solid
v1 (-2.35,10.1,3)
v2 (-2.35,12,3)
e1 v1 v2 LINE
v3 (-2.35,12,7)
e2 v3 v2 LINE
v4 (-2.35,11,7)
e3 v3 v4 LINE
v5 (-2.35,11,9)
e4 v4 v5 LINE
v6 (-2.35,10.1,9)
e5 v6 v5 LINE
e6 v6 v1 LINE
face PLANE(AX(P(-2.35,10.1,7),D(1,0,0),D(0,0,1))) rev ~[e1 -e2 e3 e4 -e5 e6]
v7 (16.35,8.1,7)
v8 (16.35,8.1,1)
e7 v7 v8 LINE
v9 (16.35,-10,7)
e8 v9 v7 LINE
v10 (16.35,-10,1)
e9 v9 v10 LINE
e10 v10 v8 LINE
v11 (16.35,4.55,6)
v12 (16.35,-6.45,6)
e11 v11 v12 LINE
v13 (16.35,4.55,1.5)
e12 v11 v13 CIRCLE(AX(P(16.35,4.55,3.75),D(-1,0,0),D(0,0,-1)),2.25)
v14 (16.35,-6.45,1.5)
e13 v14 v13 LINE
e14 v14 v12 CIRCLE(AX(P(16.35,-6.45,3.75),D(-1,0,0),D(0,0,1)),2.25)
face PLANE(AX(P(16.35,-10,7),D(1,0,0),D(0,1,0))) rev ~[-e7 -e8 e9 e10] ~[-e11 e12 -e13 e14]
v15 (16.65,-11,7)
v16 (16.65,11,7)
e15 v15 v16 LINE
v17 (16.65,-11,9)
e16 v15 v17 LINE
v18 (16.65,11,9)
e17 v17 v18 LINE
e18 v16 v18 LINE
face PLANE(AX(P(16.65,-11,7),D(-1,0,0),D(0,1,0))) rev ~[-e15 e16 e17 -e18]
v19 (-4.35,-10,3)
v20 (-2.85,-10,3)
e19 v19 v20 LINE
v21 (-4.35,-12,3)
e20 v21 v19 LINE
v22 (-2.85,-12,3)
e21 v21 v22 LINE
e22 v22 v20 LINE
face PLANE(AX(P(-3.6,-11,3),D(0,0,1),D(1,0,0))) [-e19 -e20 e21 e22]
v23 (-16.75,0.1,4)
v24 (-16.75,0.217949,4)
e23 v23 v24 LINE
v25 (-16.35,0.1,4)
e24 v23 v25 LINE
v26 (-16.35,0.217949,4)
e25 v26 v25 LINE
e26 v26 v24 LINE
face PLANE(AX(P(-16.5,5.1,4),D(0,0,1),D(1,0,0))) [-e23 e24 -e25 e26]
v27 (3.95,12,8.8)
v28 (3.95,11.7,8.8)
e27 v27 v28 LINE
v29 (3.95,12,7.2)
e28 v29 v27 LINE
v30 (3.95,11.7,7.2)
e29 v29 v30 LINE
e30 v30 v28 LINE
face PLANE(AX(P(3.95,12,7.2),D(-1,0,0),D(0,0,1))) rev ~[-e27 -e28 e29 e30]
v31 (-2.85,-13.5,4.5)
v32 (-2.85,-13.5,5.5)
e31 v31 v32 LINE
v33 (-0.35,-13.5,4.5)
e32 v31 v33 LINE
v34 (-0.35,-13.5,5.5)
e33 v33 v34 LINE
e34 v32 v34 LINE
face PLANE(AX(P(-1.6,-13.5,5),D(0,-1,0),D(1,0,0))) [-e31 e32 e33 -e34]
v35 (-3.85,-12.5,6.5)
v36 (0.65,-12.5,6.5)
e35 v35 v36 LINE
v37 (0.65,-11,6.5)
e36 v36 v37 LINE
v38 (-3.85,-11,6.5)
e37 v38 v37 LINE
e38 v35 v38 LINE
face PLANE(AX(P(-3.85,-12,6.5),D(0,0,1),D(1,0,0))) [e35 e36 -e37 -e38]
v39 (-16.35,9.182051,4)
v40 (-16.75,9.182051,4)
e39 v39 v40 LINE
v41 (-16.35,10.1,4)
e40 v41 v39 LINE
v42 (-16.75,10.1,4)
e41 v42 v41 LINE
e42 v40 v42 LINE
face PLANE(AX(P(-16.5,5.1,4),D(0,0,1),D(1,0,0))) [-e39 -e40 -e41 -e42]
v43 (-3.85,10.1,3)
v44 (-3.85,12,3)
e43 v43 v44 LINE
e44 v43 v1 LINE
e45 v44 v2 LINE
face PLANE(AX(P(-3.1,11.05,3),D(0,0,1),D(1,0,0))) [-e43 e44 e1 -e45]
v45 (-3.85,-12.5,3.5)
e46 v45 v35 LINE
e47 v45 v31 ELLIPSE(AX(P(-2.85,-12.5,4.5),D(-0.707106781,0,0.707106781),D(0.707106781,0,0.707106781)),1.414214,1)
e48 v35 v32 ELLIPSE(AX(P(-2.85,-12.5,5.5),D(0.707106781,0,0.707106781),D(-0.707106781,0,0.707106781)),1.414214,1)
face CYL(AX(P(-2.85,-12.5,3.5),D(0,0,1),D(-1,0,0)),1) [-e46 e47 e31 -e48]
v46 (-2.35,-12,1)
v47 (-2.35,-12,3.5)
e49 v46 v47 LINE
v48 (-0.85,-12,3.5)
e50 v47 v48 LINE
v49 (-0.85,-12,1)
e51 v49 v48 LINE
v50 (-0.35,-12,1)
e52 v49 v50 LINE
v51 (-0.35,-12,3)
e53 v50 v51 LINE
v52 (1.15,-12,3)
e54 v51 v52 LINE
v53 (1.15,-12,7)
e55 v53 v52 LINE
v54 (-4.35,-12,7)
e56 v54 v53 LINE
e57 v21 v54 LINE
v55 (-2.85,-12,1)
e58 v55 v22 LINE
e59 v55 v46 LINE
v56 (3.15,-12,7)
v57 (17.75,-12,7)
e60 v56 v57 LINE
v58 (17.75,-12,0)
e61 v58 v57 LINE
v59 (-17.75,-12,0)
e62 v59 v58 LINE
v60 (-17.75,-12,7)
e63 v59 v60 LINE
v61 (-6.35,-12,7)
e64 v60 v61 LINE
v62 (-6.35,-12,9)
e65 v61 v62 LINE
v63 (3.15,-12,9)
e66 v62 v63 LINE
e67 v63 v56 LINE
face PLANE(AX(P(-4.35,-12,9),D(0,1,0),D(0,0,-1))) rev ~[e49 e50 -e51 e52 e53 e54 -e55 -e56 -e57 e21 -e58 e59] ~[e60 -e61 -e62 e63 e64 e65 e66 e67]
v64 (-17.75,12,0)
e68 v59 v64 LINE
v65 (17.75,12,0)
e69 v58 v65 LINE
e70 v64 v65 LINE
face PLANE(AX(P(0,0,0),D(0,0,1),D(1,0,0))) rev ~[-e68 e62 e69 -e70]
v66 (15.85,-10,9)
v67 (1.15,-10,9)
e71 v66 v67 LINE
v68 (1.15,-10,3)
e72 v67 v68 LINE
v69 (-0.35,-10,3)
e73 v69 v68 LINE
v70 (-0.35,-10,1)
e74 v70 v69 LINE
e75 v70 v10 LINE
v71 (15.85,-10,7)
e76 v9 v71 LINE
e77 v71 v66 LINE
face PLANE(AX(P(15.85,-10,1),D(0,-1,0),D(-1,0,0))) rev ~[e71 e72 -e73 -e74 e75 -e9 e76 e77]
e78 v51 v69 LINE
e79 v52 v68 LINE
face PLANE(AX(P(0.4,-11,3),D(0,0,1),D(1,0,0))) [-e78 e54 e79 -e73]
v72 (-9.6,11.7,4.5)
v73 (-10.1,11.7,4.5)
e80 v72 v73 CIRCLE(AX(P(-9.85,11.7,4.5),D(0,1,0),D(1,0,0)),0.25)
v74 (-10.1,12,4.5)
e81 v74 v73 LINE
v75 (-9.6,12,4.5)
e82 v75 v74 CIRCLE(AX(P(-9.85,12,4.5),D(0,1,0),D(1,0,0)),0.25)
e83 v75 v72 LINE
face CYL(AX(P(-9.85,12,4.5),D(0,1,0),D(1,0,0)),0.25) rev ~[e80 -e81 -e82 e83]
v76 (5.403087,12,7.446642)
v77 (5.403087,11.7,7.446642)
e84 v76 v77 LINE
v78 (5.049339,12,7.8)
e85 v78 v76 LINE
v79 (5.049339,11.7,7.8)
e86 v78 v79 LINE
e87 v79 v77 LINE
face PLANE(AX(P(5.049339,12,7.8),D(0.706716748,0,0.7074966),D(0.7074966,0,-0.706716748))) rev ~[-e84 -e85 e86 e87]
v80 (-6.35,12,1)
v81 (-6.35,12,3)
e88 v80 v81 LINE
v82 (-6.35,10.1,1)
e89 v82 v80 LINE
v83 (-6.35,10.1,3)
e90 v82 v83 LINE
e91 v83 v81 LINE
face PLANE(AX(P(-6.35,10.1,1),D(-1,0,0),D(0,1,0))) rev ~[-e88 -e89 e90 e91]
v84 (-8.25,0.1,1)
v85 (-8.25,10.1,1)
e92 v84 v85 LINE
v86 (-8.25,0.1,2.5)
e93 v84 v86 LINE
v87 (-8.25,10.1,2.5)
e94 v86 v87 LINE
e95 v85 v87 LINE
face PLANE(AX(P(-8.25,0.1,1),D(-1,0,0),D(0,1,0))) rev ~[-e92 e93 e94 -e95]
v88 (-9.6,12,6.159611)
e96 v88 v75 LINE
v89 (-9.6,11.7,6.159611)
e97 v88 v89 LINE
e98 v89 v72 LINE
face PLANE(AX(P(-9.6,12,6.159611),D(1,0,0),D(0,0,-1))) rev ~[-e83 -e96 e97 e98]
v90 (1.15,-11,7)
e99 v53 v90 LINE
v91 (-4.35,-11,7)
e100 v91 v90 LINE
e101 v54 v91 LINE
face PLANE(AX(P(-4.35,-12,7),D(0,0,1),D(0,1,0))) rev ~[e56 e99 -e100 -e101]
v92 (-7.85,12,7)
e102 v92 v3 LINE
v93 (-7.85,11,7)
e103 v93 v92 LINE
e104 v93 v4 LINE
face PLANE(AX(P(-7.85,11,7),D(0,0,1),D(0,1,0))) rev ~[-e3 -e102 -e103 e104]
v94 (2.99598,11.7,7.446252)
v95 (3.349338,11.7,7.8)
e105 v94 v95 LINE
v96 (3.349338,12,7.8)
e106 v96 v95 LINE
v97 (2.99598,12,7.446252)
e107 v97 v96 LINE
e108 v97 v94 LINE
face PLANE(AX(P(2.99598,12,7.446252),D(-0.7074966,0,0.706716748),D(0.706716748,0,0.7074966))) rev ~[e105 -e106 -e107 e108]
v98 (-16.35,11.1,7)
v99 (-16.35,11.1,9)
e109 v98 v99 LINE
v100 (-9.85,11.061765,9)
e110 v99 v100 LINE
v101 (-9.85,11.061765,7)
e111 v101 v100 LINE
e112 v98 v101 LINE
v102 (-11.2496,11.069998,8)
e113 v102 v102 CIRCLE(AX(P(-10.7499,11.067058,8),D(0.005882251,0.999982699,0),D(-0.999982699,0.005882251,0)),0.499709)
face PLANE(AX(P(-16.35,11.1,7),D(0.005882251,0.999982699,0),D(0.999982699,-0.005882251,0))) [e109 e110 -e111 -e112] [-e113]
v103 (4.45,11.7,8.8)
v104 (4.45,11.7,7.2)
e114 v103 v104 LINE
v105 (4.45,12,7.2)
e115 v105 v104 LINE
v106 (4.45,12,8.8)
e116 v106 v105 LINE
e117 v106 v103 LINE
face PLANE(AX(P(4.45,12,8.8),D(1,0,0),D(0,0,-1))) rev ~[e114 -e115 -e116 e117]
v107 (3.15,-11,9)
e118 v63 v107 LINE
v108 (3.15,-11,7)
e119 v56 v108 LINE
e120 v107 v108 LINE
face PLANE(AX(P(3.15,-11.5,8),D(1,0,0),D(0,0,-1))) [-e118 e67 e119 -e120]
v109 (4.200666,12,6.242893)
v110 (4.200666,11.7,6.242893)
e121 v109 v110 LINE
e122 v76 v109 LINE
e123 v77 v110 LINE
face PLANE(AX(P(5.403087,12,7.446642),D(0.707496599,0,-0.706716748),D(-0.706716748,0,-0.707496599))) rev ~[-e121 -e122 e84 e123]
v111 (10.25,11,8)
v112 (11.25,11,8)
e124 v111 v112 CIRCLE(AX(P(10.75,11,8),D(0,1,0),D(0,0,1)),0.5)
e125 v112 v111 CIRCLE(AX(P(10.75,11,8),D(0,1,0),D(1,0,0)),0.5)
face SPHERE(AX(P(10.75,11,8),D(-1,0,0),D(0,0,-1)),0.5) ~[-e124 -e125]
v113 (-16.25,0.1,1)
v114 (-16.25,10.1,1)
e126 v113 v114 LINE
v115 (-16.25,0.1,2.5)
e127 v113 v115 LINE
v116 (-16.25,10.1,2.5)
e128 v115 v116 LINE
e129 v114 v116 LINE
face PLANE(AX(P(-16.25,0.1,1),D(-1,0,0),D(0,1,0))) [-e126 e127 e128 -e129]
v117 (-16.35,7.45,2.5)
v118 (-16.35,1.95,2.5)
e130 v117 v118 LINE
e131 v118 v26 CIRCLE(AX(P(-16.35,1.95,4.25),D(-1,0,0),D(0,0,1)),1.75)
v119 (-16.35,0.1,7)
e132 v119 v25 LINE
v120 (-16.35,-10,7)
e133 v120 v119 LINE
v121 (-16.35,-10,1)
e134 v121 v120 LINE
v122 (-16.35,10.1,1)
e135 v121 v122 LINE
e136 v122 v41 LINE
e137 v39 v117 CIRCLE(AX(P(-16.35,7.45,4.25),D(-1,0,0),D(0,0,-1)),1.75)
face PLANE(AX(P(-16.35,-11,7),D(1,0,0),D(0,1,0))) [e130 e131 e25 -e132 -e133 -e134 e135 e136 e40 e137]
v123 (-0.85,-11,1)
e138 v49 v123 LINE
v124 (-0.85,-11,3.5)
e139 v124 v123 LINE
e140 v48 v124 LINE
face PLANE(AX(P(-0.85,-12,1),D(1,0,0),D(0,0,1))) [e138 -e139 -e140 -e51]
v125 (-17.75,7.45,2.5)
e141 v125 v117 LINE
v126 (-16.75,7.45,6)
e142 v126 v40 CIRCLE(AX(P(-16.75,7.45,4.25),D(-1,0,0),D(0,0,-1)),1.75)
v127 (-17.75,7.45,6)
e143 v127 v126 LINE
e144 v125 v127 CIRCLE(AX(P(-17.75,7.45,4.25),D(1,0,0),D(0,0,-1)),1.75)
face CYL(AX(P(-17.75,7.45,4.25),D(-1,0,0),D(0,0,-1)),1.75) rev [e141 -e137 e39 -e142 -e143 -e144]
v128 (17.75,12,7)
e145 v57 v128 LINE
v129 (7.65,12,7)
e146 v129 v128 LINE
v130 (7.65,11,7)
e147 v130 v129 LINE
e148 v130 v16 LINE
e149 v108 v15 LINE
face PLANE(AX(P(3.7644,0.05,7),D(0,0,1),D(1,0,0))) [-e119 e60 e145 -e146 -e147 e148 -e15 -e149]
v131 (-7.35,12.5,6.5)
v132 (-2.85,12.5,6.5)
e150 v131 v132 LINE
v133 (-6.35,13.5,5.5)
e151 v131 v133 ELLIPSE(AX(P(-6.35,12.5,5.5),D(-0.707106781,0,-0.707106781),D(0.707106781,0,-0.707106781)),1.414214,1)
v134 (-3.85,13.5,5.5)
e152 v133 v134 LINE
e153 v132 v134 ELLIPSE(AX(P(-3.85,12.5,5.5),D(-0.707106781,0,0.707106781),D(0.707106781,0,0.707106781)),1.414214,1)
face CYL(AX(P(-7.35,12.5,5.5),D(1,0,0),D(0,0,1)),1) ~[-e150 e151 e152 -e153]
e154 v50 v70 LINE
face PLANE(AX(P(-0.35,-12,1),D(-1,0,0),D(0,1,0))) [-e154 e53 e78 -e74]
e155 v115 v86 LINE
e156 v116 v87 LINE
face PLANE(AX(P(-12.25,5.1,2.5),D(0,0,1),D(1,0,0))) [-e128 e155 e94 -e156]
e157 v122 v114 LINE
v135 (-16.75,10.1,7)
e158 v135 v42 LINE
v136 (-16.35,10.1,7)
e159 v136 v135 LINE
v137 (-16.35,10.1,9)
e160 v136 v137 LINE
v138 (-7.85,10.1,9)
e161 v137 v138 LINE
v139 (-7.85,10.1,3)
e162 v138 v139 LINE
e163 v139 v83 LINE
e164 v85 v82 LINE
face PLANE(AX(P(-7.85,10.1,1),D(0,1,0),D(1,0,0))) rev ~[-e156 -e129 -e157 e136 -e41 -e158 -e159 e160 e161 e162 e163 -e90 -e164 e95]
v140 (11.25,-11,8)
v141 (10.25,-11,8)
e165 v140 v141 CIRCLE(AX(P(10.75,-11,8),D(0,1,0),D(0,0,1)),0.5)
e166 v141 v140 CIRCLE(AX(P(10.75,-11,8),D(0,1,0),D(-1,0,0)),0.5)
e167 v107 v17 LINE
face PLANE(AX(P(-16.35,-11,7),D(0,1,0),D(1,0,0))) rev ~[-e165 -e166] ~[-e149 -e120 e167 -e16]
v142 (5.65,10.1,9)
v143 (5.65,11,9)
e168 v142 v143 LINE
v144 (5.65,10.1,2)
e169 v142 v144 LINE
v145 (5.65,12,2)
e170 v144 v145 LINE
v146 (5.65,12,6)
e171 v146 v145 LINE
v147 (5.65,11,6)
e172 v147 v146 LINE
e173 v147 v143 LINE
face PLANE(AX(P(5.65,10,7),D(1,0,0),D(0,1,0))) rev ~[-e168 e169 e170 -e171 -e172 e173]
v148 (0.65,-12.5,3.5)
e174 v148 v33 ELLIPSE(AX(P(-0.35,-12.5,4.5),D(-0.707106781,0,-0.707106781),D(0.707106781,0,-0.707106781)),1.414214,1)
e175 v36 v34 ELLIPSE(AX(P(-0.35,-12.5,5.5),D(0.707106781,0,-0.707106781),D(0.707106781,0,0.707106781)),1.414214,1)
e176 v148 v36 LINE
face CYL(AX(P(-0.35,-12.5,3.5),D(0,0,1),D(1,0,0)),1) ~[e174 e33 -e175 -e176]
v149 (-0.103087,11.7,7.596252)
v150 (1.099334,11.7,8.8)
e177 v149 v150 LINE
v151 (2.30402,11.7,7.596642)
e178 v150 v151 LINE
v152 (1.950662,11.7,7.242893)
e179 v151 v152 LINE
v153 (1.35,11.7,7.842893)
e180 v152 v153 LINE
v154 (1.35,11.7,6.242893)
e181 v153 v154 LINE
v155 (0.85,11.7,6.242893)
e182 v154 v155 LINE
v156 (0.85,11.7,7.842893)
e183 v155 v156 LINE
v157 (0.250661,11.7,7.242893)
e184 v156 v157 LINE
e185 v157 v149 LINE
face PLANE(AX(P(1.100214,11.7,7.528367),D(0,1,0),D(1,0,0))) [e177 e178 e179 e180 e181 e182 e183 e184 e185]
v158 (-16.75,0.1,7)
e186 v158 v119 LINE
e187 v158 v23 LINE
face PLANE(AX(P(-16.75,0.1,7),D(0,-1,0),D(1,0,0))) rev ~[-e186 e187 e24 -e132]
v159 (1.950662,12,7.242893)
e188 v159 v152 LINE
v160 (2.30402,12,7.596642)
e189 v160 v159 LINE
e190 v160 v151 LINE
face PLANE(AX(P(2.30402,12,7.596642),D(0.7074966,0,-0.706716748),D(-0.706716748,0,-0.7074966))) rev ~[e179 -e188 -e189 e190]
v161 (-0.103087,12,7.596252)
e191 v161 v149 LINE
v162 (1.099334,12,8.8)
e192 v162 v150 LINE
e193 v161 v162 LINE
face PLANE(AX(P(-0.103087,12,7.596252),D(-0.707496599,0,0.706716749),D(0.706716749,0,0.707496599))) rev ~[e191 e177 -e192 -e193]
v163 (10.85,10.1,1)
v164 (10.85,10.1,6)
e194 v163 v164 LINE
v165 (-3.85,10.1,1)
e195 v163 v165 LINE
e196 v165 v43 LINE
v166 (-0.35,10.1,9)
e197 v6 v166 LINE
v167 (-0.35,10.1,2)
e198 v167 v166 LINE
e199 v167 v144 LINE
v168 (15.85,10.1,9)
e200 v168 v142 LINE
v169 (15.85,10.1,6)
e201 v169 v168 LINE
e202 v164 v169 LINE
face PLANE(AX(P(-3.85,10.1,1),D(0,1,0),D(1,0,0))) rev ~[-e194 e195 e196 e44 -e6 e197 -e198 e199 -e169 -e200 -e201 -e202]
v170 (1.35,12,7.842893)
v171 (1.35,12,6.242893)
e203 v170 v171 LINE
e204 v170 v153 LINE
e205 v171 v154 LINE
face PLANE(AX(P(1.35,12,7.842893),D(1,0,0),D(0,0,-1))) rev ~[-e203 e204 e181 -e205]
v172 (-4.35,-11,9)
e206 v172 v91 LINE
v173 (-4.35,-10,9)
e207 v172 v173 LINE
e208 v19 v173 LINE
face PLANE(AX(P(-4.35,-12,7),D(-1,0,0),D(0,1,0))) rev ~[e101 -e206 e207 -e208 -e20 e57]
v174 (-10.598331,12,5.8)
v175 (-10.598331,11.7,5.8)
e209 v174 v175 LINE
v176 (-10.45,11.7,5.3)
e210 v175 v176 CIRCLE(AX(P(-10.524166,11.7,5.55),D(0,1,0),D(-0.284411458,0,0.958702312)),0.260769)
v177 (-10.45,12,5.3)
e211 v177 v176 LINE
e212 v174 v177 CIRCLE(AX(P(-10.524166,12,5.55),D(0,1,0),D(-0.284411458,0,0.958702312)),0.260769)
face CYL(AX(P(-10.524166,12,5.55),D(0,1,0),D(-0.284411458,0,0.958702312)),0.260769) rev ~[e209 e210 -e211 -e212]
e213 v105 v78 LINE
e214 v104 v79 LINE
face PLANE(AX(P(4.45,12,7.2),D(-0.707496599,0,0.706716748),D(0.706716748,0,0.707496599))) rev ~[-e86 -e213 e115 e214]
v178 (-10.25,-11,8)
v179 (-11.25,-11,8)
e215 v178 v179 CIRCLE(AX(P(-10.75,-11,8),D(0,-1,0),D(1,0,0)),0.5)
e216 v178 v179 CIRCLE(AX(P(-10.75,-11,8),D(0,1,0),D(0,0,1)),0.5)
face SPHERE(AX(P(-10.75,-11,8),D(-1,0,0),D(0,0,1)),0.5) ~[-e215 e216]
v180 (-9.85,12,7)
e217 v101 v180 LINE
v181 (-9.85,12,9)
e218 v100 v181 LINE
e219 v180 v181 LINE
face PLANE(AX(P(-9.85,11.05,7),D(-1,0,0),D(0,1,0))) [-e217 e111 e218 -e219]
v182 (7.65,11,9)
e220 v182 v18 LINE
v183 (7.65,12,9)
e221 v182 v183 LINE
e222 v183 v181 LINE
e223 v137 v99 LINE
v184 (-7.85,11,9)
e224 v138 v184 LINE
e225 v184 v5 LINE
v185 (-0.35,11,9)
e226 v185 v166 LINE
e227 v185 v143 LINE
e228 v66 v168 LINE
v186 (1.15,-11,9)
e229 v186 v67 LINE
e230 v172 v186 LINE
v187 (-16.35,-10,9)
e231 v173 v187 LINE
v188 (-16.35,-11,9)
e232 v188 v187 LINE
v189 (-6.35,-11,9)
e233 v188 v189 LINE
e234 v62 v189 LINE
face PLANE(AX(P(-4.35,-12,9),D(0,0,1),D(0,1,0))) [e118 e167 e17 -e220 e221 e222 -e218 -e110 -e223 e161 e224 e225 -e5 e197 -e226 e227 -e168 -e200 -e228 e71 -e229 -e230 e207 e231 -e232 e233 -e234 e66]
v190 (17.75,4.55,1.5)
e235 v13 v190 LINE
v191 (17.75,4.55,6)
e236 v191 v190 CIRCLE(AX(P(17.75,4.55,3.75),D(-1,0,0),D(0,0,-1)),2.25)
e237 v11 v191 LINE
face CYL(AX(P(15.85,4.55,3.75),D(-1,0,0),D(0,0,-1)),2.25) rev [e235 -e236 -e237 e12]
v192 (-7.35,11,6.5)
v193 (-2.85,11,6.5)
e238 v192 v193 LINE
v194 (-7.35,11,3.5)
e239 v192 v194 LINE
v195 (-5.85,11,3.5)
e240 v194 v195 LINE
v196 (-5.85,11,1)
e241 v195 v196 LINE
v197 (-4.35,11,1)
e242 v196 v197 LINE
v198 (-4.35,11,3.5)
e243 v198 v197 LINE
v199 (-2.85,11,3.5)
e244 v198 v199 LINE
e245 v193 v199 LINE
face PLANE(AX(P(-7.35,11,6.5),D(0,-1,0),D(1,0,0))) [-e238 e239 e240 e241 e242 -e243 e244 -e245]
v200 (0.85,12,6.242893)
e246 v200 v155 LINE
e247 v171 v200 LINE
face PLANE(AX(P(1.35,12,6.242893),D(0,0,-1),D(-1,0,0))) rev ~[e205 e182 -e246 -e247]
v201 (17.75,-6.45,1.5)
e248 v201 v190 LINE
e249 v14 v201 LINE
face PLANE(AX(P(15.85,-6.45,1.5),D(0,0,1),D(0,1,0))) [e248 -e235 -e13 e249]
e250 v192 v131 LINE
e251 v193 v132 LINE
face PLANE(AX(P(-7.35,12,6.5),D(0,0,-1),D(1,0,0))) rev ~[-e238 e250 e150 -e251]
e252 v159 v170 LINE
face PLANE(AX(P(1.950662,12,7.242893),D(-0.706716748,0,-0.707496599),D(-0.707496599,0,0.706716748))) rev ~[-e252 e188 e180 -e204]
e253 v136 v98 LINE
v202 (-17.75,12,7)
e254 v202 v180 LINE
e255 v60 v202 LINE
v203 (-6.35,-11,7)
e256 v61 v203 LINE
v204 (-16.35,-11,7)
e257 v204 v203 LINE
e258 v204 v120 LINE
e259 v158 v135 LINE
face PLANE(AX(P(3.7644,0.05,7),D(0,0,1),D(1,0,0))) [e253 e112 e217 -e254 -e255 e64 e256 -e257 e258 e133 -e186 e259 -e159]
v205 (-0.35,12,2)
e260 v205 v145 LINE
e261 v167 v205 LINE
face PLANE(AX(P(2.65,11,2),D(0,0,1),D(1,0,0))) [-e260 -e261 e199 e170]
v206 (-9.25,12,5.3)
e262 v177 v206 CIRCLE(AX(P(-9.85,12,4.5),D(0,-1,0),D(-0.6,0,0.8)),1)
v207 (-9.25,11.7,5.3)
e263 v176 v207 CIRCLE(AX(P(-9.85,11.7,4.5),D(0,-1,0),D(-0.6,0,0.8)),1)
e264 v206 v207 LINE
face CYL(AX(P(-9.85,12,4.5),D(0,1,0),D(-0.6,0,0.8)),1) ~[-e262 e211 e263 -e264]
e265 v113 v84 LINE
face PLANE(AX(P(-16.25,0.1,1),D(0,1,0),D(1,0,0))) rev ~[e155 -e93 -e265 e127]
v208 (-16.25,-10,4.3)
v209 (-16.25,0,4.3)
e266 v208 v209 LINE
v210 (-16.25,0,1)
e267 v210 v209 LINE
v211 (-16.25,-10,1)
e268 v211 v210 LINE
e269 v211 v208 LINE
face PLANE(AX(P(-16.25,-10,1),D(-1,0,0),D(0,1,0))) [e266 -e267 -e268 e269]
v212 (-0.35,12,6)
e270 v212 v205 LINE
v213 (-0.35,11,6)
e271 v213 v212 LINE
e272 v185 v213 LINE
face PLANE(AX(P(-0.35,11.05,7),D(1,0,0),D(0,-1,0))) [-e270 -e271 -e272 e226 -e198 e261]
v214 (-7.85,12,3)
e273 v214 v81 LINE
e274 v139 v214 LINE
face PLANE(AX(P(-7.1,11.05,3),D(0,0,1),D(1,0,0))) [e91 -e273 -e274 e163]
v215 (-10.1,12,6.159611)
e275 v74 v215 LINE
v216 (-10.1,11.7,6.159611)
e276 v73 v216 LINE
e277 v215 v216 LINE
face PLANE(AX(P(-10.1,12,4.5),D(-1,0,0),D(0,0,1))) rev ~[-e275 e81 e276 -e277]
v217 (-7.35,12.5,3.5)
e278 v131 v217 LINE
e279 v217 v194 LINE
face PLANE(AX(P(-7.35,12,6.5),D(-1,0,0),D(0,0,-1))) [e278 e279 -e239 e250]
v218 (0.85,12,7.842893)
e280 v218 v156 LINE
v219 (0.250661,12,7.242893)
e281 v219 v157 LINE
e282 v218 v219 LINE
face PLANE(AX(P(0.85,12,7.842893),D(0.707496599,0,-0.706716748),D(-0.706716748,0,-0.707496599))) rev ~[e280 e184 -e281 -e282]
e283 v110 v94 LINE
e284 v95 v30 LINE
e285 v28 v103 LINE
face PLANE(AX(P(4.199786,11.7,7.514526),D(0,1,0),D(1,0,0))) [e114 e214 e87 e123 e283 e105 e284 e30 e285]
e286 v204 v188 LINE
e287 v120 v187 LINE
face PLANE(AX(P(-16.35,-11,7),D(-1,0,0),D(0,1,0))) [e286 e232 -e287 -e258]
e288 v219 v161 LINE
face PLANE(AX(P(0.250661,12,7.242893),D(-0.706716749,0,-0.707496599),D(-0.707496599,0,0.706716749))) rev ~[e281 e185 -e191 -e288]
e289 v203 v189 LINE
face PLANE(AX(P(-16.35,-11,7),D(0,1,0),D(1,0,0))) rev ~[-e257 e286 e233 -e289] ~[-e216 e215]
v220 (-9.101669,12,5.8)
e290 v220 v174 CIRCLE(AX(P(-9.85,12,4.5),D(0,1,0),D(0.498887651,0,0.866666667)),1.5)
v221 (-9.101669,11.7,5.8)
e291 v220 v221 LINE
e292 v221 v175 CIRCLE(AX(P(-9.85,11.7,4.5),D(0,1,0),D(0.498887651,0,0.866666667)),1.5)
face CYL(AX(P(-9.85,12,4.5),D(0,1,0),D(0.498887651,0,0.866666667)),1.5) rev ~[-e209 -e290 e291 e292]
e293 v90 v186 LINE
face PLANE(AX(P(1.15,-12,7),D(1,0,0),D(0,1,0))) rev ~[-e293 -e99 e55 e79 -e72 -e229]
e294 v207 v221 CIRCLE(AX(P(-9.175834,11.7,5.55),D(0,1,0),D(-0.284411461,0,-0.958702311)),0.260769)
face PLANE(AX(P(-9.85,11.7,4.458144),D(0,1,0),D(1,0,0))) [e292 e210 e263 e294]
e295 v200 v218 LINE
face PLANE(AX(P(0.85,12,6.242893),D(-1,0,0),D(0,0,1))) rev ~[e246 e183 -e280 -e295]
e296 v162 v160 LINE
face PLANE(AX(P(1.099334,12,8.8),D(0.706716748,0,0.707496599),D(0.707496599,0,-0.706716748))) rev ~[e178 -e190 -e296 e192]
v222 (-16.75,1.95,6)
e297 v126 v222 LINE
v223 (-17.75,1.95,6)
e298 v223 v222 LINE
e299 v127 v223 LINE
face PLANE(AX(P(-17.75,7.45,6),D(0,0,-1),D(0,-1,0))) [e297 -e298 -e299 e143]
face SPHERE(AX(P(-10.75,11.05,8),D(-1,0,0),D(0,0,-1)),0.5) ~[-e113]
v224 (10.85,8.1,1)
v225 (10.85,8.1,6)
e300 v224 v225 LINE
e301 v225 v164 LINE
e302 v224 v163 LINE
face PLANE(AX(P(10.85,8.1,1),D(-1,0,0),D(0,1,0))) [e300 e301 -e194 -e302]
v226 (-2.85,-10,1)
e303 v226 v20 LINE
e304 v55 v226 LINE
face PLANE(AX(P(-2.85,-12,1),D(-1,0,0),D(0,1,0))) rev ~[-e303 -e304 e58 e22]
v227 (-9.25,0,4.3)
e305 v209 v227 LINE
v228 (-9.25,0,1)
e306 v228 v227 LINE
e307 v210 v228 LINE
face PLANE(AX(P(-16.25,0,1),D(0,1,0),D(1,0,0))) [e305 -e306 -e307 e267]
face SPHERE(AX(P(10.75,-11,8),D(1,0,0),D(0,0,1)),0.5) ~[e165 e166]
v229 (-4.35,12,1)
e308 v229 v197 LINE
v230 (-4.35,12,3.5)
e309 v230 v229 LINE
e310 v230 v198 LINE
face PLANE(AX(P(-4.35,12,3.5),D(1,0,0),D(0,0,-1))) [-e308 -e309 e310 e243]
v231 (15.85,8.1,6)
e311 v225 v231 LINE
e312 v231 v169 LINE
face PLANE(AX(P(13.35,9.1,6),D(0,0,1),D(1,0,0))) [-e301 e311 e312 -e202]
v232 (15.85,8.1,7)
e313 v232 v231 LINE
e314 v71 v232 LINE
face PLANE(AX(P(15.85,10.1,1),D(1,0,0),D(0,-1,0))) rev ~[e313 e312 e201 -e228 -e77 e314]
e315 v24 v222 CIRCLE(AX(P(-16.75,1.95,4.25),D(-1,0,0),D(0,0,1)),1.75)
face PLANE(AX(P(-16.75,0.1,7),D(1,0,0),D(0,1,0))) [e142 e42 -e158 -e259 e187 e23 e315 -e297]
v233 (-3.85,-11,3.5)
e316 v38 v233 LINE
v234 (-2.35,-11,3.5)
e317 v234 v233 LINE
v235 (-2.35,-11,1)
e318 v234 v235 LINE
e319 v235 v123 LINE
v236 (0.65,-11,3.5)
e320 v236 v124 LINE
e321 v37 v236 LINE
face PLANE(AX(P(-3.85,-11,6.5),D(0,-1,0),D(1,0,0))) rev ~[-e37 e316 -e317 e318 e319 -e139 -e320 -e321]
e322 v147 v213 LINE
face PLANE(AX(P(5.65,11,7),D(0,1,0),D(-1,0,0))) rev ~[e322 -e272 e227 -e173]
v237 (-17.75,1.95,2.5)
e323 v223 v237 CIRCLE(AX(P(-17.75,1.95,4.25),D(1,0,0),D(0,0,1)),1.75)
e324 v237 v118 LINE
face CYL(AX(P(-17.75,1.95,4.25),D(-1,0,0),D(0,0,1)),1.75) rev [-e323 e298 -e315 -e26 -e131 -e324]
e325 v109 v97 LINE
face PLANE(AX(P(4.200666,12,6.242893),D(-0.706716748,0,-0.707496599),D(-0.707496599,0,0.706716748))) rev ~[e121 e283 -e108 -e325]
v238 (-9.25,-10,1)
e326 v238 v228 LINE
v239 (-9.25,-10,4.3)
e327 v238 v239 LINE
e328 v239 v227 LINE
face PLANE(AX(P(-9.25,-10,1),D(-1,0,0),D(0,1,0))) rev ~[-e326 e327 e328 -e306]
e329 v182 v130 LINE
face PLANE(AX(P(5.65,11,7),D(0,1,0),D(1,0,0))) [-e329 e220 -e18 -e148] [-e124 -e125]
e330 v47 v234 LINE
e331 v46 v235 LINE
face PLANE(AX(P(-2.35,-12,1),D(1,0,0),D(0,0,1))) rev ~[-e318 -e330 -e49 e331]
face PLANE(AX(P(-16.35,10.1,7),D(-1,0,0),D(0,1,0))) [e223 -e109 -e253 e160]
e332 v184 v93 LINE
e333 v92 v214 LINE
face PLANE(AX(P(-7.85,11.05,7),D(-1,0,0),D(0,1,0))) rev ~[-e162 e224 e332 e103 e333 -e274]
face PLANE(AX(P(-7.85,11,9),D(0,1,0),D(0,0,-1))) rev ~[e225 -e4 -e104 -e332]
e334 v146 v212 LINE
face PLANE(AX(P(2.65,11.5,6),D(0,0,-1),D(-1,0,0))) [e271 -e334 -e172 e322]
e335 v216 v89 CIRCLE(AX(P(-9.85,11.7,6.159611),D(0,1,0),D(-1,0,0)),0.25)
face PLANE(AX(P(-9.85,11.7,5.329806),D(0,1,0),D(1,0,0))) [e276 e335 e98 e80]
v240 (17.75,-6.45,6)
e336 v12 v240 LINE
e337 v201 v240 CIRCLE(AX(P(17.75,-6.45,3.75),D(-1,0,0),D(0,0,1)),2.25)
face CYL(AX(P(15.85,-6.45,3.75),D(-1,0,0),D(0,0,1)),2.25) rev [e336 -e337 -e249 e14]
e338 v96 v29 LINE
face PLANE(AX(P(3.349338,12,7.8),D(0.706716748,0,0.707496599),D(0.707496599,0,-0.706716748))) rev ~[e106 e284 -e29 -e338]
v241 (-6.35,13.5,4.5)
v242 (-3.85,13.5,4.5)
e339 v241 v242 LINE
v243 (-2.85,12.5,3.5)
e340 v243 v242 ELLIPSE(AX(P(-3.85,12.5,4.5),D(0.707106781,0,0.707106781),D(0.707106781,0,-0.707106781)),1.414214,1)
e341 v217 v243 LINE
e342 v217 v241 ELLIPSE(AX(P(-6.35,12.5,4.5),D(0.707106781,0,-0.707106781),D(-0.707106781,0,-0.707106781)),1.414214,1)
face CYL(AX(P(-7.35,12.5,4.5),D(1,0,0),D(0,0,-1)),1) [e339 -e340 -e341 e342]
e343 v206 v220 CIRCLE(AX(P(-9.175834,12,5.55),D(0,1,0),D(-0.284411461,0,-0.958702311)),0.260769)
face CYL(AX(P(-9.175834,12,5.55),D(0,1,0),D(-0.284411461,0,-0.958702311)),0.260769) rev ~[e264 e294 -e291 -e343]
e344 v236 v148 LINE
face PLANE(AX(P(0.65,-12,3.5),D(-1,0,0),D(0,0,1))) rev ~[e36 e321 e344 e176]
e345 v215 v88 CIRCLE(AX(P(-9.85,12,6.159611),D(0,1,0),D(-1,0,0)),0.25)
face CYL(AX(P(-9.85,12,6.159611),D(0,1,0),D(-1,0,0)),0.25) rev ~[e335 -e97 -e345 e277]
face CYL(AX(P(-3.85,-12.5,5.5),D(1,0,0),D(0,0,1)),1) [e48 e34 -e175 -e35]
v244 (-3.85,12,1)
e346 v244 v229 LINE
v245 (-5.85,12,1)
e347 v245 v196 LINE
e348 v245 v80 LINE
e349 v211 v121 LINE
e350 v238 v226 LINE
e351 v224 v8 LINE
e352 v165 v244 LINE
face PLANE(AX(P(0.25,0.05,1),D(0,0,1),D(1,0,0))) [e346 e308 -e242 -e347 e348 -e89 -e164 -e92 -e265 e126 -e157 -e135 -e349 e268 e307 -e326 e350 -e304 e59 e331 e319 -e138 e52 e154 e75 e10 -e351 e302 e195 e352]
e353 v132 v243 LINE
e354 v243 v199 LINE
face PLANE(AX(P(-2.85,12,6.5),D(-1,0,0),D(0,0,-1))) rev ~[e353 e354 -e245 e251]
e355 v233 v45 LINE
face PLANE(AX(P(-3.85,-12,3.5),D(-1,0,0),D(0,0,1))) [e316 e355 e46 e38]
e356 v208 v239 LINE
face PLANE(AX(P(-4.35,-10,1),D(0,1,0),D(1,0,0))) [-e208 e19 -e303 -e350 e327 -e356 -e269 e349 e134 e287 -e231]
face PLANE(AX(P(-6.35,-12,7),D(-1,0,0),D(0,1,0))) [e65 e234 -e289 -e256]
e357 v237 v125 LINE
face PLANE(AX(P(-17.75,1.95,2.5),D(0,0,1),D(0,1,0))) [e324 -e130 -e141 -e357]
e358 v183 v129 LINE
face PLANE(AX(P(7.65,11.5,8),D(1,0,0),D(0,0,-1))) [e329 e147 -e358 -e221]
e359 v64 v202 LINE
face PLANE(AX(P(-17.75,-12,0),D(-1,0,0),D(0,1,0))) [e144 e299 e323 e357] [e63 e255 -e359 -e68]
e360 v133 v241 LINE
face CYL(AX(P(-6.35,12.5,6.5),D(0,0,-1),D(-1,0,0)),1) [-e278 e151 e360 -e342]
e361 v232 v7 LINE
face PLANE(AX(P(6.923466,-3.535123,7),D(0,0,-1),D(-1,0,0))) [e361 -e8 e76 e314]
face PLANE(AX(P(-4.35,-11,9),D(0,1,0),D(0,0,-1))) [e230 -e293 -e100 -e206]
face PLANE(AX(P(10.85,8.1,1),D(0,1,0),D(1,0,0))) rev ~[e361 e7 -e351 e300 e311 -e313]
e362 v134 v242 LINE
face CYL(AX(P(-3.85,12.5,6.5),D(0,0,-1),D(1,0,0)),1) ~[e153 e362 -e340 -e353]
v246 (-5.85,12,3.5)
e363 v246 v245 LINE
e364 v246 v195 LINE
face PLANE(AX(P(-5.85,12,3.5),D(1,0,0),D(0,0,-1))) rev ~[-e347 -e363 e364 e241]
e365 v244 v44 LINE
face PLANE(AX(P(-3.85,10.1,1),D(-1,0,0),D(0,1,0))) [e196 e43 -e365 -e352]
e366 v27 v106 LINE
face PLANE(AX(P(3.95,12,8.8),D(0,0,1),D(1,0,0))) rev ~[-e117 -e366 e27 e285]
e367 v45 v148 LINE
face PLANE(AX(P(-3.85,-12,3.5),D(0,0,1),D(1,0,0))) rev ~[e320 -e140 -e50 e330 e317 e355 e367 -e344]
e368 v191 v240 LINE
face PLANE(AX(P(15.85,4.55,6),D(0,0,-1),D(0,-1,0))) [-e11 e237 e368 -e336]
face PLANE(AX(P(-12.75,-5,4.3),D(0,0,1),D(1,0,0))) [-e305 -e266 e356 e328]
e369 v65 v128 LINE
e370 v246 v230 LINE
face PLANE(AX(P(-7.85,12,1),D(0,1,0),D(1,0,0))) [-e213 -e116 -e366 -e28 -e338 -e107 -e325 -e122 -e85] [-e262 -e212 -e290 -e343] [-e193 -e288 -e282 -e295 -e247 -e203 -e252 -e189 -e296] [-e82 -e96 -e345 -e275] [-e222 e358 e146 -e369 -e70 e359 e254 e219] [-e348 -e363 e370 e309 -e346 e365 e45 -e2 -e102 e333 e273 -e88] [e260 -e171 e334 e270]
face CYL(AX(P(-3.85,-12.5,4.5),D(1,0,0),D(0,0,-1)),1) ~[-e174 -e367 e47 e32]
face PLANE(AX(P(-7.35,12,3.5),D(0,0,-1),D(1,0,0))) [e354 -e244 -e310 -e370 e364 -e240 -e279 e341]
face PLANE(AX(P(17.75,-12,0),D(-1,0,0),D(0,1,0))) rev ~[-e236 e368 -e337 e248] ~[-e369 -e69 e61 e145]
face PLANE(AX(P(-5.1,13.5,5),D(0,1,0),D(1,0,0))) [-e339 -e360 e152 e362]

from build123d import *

# Parameters (mm, degrees)
SKETCH_1_W           = 35.5
SKETCH_1_H           = 24
EXTRUDE_1_DEPTH      = 7
SKETCH_2_W           = 33.2
SKETCH_2_H           = 22.1
CUT_EXTRUDE_1_DEPTH  = 6
CUT_EXTRUDE_2_DEPTH  = 2
EXTRUDE_2_DEPTH      = 6
SKETCH_7_W           = 5
SKETCH_7_H           = 2
EXTRUDE_3_DEPTH      = 5
CUT_EXTRUDE_4_DEPTH  = 2
SKETCH_12_W          = 5.5
SKETCH_12_H          = 2
CUT_EXTRUDE_6_DEPTH  = 6
SKETCH_19_W          = 8
SKETCH_19_H          = 10
USB_DEPTH            = 1.5
SKETCH_25_W          = 0.5
SKETCH_25_H          = 18.1
CUT_EXTRUDE_12_DEPTH = 6
SKETCH_28_W          = 5.5
SKETCH_28_H          = 1.9
CUT_EXTRUDE_13_DEPTH = 6
SKETCH_29_W          = 6
SKETCH_29_H          = 2
CUT_EXTRUDE_14_DEPTH = 5
SKETCH_34_W          = 7
SKETCH_34_H          = 10
EXTRUDE_10_DEPTH     = 3.3
SKETCH_35_W          = 0.5
SKETCH_35_H          = 10
CUT_EXTRUDE_15_DEPTH = 3
SKETCH_37_W          = 4.5
SKETCH_37_H          = 2
EXTRUDE_12_DEPTH     = 5.5
SKETCH_38_W          = 1.5
SKETCH_38_H          = 2.5
CUT_EXTRUDE_16_DEPTH = 2
SKETCH_39_W          = 4.5
SKETCH_39_H          = 1
CUT_EXTRUDE_17_DEPTH = 5.5
SKETCH_40_W          = 4.5
SKETCH_40_H          = 3
EXTRUDE_13_DEPTH     = 1.5
FILLET_2_R           = 1
SKETCH_41_W          = 4.5
SKETCH_41_H          = 2
EXTRUDE_14_DEPTH     = 5.5
SKETCH_42_W          = 1.5
SKETCH_42_H          = 2.5
CUT_EXTRUDE_18_DEPTH = 2
SKETCH_43_W          = 4.5
SKETCH_43_H          = 1
CUT_EXTRUDE_19_DEPTH = 5.5
SKETCH_44_W          = 4.5
SKETCH_44_H          = 3
EXTRUDE_15_DEPTH     = 1.5
FILLET_3_R           = 1
EXTRUDE_16_DEPTH     = 2
SKETCH_50_W          = 5.5
SKETCH_50_H          = 2
CUT_EXTRUDE_20_DEPTH = 2
SKETCH_51_W          = 5.5
SKETCH_51_H          = 2
CUT_EXTRUDE_21_DEPTH = 2
SKETCH_54_W          = 2
SKETCH_54_H          = 0.95
EXTRUDE_19_DEPTH     = 2
SKETCH_55_W          = 2
SKETCH_55_H          = 1
EXTRUDE_20_DEPTH     = 15.5
SKETCH_56_W          = 2
SKETCH_56_H          = 1
EXTRUDE_21_DEPTH     = 2
SKETCH_57_W          = 2
SKETCH_57_H          = 1
EXTRUDE_22_DEPTH     = 7.5
SKETCH_58_W          = 1.5
SKETCH_58_H          = 1.9
SKETCH_58_H_2        = 2
EXTRUDE_24_DEPTH     = 2
SKETCH_59_W          = 6
SKETCH_59_H          = 1
EXTRUDE_25_DEPTH     = 1
CUT_EXTRUDE_22_DEPTH = 0.3
CUT_EXTRUDE_23_DEPTH = 0.3


with BuildPart() as part:
    # Sketch 1 → Extrude 1 (new body)
    with BuildSketch(Plane.XY):
        Rectangle(SKETCH_1_W, SKETCH_1_H)
    extrude(amount=EXTRUDE_1_DEPTH)

    # Sketch 2 → Cut-Extrude 1 (cut)
    with BuildSketch(Plane.XY.offset(7)):
        with Locations((0.25, 0.05)):
            Rectangle(SKETCH_2_W, SKETCH_2_H)
    extrude(amount=-CUT_EXTRUDE_1_DEPTH, mode=Mode.SUBTRACT)

    # Sketch 3 → Cut-Extrude 2 (cut)
    with BuildSketch(Plane.ZY.offset(17.75)):
        with BuildLine():
            Line((6, 7.45), (6, 1.95))
            ThreePointArc((6, 1.95), (4.25, 0.2), (2.5, 1.95))
            Line((2.5, 1.95), (2.5, 7.45))
            ThreePointArc((2.5, 7.45), (4.25, 9.2), (6, 7.45))
        make_face()
    extrude(amount=-CUT_EXTRUDE_2_DEPTH, mode=Mode.SUBTRACT)

    # Sketch 6 → Extrude 2 (add)
    with BuildSketch(Plane.XY.offset(1)):
        Polygon((-16.35, 10.1), (15.85, 10.1), (15.85, -10), (-16.35, -10), (-16.35, -11), (16.85, -11), (16.85, 11.1), (-16.35, 11.1), align=None)
    extrude(amount=EXTRUDE_2_DEPTH)

    # Sketch 7 → Extrude 3 (add)
    with BuildSketch(Plane.XY.offset(1)):
        with Locations((13.35, 9.1)):
            Rectangle(SKETCH_7_W, SKETCH_7_H)
    extrude(amount=EXTRUDE_3_DEPTH)

    # Sketch 10 → Cut-Extrude 4 (cut)
    with BuildSketch(Plane.ZY.offset(-15.85)):
        with BuildLine():
            Line((1.5, -6.45), (1.5, 4.55))
            ThreePointArc((1.5, 4.55), (3.75, 6.8), (6, 4.55))
            Line((6, 4.55), (6, -6.45))
            ThreePointArc((6, -6.45), (3.75, -8.7), (1.5, -6.45))
        make_face()
    extrude(amount=-CUT_EXTRUDE_4_DEPTH, mode=Mode.SUBTRACT)

    # Sketch 12 → Cut-Extrude 6 (cut)
    with BuildSketch(Plane.XY.offset(7)):
        with Locations((-1.6, -11)):
            Rectangle(SKETCH_12_W, SKETCH_12_H)
    extrude(amount=-CUT_EXTRUDE_6_DEPTH, mode=Mode.SUBTRACT)

    # Sketch 19 → USB (add)
    with BuildSketch(Plane.XY.offset(1)):
        with Locations((-12.25, 5.1)):
            Rectangle(SKETCH_19_W, SKETCH_19_H)
    extrude(amount=USB_DEPTH)

    # Sketch 25 → Cut-Extrude 12 (cut)
    with BuildSketch(Plane.XY.offset(7)):
        with Locations((16.1, -0.95)):
            Rectangle(SKETCH_25_W, SKETCH_25_H)
    extrude(amount=-CUT_EXTRUDE_12_DEPTH, mode=Mode.SUBTRACT)

    # Sketch 28 → Cut-Extrude 13 (cut)
    with BuildSketch(Plane.XY.offset(7)):
        with Locations((-5.1, 11.05)):
            Rectangle(SKETCH_28_W, SKETCH_28_H)
    extrude(amount=-CUT_EXTRUDE_13_DEPTH, mode=Mode.SUBTRACT)

    # Sketch 29 → Cut-Extrude 14 (cut)
    with BuildSketch(Plane.XY.offset(7)):
        with Locations((2.65, 11)):
            Rectangle(SKETCH_29_W, SKETCH_29_H)
    extrude(amount=-CUT_EXTRUDE_14_DEPTH, mode=Mode.SUBTRACT)

    # Sketch 34 → Extrude 10 (add)
    with BuildSketch(Plane.XY.offset(1)):
        with Locations((-12.75, -5)):
            Rectangle(SKETCH_34_W, SKETCH_34_H)
    extrude(amount=EXTRUDE_10_DEPTH)

    # Sketch 35 → Cut-Extrude 15 (cut)
    with BuildSketch(Plane.XY.offset(7)):
        with Locations((-16.5, 5.1)):
            Rectangle(SKETCH_35_W, SKETCH_35_H)
    extrude(amount=-CUT_EXTRUDE_15_DEPTH, mode=Mode.SUBTRACT)

    # Sketch 37 → Extrude 12 (add)
    with BuildSketch(Plane.XY.offset(1)):
        with Locations((-1.6, -11)):
            Rectangle(SKETCH_37_W, SKETCH_37_H)
    extrude(amount=EXTRUDE_12_DEPTH)

    # Sketch 38 → Cut-Extrude 16 (cut)
    with BuildSketch(Plane.XZ.offset(12)):
        with Locations((-3.1, 2.25)):
            Rectangle(SKETCH_38_W, SKETCH_38_H)
        with Locations((-0.1, 2.25)):
            Rectangle(SKETCH_38_W, SKETCH_38_H)
    extrude(amount=-CUT_EXTRUDE_16_DEPTH, mode=Mode.SUBTRACT)

    # Sketch 39 → Cut-Extrude 17 (cut)
    with BuildSketch(Plane.XY.offset(6.5)):
        with Locations((-1.6, -10.5)):
            Rectangle(SKETCH_39_W, SKETCH_39_H)
    extrude(amount=-CUT_EXTRUDE_17_DEPTH, mode=Mode.SUBTRACT)

    # Sketch 40 → Extrude 13 (add)
    with BuildSketch(Plane.XZ.offset(12)):
        with Locations((-1.6, 5)):
            Rectangle(SKETCH_40_W, SKETCH_40_H)
    extrude(amount=EXTRUDE_13_DEPTH)

    # Fillet 2
    fillet_2_edges = [part.edges().sort_by_distance(p)[0] for p in [
        (-3.85, -13.5, 5),
        (-1.6, -13.5, 3.5),
        (0.65, -13.5, 5),
        (-1.6, -13.5, 6.5),
    ]]
    fillet(fillet_2_edges, radius=FILLET_2_R)

    # Sketch 41 → Extrude 14 (add)
    with BuildSketch(Plane.XY.offset(1)):
        with Locations((-5.1, 11)):
            Rectangle(SKETCH_41_W, SKETCH_41_H)
    extrude(amount=EXTRUDE_14_DEPTH)

    # Sketch 42 → Cut-Extrude 18 (cut)
    with BuildSketch(Plane(origin=(0, 12, 0), x_dir=(1, 0, 0), z_dir=(0, 1, 0))):
        with Locations((-6.6, -2.25)):
            Rectangle(SKETCH_42_W, SKETCH_42_H)
        with Locations((-3.6, -2.25)):
            Rectangle(SKETCH_42_W, SKETCH_42_H)
    extrude(amount=-CUT_EXTRUDE_18_DEPTH, mode=Mode.SUBTRACT)

    # Sketch 43 → Cut-Extrude 19 (cut)
    with BuildSketch(Plane.XY.offset(6.5)):
        with Locations((-5.1, 10.5)):
            Rectangle(SKETCH_43_W, SKETCH_43_H)
    extrude(amount=-CUT_EXTRUDE_19_DEPTH, mode=Mode.SUBTRACT)

    # Sketch 44 → Extrude 15 (add)
    with BuildSketch(Plane(origin=(0, 12, 0), x_dir=(1, 0, 0), z_dir=(0, 1, 0))):
        with Locations((-5.1, -5)):
            Rectangle(SKETCH_44_W, SKETCH_44_H)
    extrude(amount=EXTRUDE_15_DEPTH)

    # Fillet 3
    fillet_3_edges = [part.edges().sort_by_distance(p)[0] for p in [
        (-7.35, 13.5, 5),
        (-5.1, 13.5, 6.5),
        (-2.85, 13.5, 5),
        (-5.1, 13.5, 3.5),
    ]]
    fillet(fillet_3_edges, radius=FILLET_3_R)

    # Sketch 45 → Extrude 16 (add)
    with BuildSketch(Plane.XY.offset(7)):
        Polygon((-7.85, 10.1), (-16.35, 10.1), (-16.35, 11.1), (-7.85, 11.05), (-2.25, 11.05), (-0.35, 11.05), (-0.35, 10.1), (-2.35, 10.1), align=None)
        Polygon((1.25, -11), (-16.35, -11), (-16.35, -10), (1.15, -10), (15.85, -10), (15.85, 10.1), (5.65, 10.1), (5.65, 11), (16.65, 11), (16.65, 10), (16.65, -11), align=None)
    extrude(amount=EXTRUDE_16_DEPTH)

    # Sketch 46 → Revolve 1 (revolve)
    with BuildSketch(Plane.XZ.offset(11)):
        with BuildLine():
            Line((-11.25, 8), (-10.25, 8))
            ThreePointArc((-10.25, 8), (-10.75, 8.5), (-11.25, 8))
        make_face()
    revolve(axis=Axis((-11.25, -11, 8), (1, 0, 0)))

    # Sketch 47 → Revolve 2 (revolve)
    with BuildSketch(Plane.XZ.offset(11)):
        with BuildLine():
            Line((11.25, 8), (10.25, 8))
            ThreePointArc((10.25, 8), (10.75, 8.5), (11.25, 8))
        make_face()
    revolve(axis=Axis((11.25, -11, 8), (-1, 0, 0)))

    # Sketch 48 → Revolve 3 (revolve)
    with BuildSketch(Plane(origin=(0, 11.05, 0), x_dir=(1, 0, 0), z_dir=(0, 1, 0))):
        with BuildLine():
            Line((-11.25, -8), (-10.25, -8))
            ThreePointArc((-10.25, -8), (-10.75, -7.5), (-11.25, -8))
        make_face()
    revolve(axis=Axis((-11.25, 11.05, 8), (1, 0, 0)))

    # Sketch 49 → Revolve 4 (revolve)
    with BuildSketch(Plane(origin=(0, 11, 0), x_dir=(1, 0, 0), z_dir=(0, 1, 0))):
        with BuildLine():
            Line((10.25, -8), (11.25, -8))
            ThreePointArc((11.25, -8), (10.75, -7.5), (10.25, -8))
        make_face()
    revolve(axis=Axis((10.25, 11, 8), (1, 0, 0)))

    # Sketch 50 → Cut-Extrude 20 (cut)
    with BuildSketch(Plane.XZ.offset(-10.1)):
        with Locations((-5.1, 8)):
            Rectangle(SKETCH_50_W, SKETCH_50_H)
    extrude(amount=-CUT_EXTRUDE_20_DEPTH, mode=Mode.SUBTRACT)

    # Sketch 51 → Cut-Extrude 21 (cut)
    with BuildSketch(Plane.XZ.offset(11)):
        with Locations((-1.6, 8)):
            Rectangle(SKETCH_51_W, SKETCH_51_H)
    extrude(amount=-CUT_EXTRUDE_21_DEPTH, mode=Mode.SUBTRACT)

    # Sketch 54 → Extrude 19 (add)
    with BuildSketch(Plane.XY.offset(7)):
        with Locations((-8.85, 11.525)):
            Rectangle(SKETCH_54_W, SKETCH_54_H)
    extrude(amount=EXTRUDE_19_DEPTH)

    # Sketch 55 → Extrude 20 (add)
    with BuildSketch(Plane(origin=(-7.85, 0, 0), x_dir=(0, 0, -1), z_dir=(1, 0, 0))):
        with Locations((-8, 11.5)):
            Rectangle(SKETCH_55_W, SKETCH_55_H)
    extrude(amount=EXTRUDE_20_DEPTH)

    # Sketch 56 → Extrude 21 (add)
    with BuildSketch(Plane.XY.offset(7)):
        with Locations((-5.35, -11.5)):
            Rectangle(SKETCH_56_W, SKETCH_56_H)
    extrude(amount=EXTRUDE_21_DEPTH)

    # Sketch 57 → Extrude 22 (add)
    with BuildSketch(Plane(origin=(-4.35, 0, 0), x_dir=(0, 0, -1), z_dir=(1, 0, 0))):
        with Locations((-8, -11.5)):
            Rectangle(SKETCH_57_W, SKETCH_57_H)
    extrude(amount=EXTRUDE_22_DEPTH)

    # Sketch 58 → Extrude 24 (add)
    with BuildSketch(Plane.XY.offset(1)):
        with Locations((-7.1, 11.05)):
            Rectangle(SKETCH_58_W, SKETCH_58_H)
        with Locations((-3.1, 11.05)):
            Rectangle(SKETCH_58_W, SKETCH_58_H)
        with Locations((-3.6, -11)):
            Rectangle(SKETCH_58_W, SKETCH_58_H_2)
        with Locations((0.4, -11)):
            Rectangle(SKETCH_58_W, SKETCH_58_H_2)
    extrude(amount=EXTRUDE_24_DEPTH)

    # Sketch 59 → Extrude 25 (add)
    with BuildSketch(Plane(origin=(0, 0, 7), x_dir=(-1, 0, 0), z_dir=(0, 0, -1))):
        with Locations((-2.65, 11.5)):
            Rectangle(SKETCH_59_W, SKETCH_59_H)
    extrude(amount=EXTRUDE_25_DEPTH)

    # Sketch 61 → Cut-Extrude 22 (cut)
    with BuildSketch(Plane(origin=(0, 12, 0), x_dir=(1, 0, 0), z_dir=(0, 1, 0))):
        with BuildLine():
            Line((-9.6, -6.159611152), (-9.6, -4.5))
            ThreePointArc((-9.6, -4.5), (-9.85, -4.25), (-10.1, -4.5))
            Line((-10.1, -4.5), (-10.1, -6.159611152))
            ThreePointArc((-10.1, -6.159611152), (-9.85, -6.409611152), (-9.6, -6.159611152))
        make_face()
        with BuildLine():
            ThreePointArc((-9.101668523, -5.8), (-9.85, -3), (-10.598331477, -5.8))
            ThreePointArc((-10.598331477, -5.8), (-10.274165739, -5.624165739), (-10.45, -5.3))
            ThreePointArc((-10.45, -5.3), (-9.85, -3.5), (-9.25, -5.3))
            ThreePointArc((-9.25, -5.3), (-9.425834261, -5.624165739), (-9.101668523, -5.8))
        make_face()
    extrude(amount=-CUT_EXTRUDE_22_DEPTH, mode=Mode.SUBTRACT)

    # Sketch 60 → Cut-Extrude 23 (cut)
    with BuildSketch(Plane(origin=(0, 12, 0), x_dir=(1, 0, 0), z_dir=(0, 1, 0))):
        Polygon((4.45, -8.8), (4.45, -7.2), (5.049338639, -7.8), (5.403086939, -7.446641626), (4.200665644, -6.242893478), (2.995979535, -7.4462517), (3.349337909, -7.8), (3.95, -7.2), (3.95, -8.8), align=None)
        Polygon((1.35, -6.242893478), (0.85, -6.242893478), (0.85, -7.842893478), (0.250661361, -7.242893478), (-0.103086939, -7.596251853), (1.099334356, -8.8), (2.304020465, -7.596641778), (1.950662091, -7.242893478), (1.35, -7.842893478), align=None)
    extrude(amount=-CUT_EXTRUDE_23_DEPTH, mode=Mode.SUBTRACT)


solid = part.part
